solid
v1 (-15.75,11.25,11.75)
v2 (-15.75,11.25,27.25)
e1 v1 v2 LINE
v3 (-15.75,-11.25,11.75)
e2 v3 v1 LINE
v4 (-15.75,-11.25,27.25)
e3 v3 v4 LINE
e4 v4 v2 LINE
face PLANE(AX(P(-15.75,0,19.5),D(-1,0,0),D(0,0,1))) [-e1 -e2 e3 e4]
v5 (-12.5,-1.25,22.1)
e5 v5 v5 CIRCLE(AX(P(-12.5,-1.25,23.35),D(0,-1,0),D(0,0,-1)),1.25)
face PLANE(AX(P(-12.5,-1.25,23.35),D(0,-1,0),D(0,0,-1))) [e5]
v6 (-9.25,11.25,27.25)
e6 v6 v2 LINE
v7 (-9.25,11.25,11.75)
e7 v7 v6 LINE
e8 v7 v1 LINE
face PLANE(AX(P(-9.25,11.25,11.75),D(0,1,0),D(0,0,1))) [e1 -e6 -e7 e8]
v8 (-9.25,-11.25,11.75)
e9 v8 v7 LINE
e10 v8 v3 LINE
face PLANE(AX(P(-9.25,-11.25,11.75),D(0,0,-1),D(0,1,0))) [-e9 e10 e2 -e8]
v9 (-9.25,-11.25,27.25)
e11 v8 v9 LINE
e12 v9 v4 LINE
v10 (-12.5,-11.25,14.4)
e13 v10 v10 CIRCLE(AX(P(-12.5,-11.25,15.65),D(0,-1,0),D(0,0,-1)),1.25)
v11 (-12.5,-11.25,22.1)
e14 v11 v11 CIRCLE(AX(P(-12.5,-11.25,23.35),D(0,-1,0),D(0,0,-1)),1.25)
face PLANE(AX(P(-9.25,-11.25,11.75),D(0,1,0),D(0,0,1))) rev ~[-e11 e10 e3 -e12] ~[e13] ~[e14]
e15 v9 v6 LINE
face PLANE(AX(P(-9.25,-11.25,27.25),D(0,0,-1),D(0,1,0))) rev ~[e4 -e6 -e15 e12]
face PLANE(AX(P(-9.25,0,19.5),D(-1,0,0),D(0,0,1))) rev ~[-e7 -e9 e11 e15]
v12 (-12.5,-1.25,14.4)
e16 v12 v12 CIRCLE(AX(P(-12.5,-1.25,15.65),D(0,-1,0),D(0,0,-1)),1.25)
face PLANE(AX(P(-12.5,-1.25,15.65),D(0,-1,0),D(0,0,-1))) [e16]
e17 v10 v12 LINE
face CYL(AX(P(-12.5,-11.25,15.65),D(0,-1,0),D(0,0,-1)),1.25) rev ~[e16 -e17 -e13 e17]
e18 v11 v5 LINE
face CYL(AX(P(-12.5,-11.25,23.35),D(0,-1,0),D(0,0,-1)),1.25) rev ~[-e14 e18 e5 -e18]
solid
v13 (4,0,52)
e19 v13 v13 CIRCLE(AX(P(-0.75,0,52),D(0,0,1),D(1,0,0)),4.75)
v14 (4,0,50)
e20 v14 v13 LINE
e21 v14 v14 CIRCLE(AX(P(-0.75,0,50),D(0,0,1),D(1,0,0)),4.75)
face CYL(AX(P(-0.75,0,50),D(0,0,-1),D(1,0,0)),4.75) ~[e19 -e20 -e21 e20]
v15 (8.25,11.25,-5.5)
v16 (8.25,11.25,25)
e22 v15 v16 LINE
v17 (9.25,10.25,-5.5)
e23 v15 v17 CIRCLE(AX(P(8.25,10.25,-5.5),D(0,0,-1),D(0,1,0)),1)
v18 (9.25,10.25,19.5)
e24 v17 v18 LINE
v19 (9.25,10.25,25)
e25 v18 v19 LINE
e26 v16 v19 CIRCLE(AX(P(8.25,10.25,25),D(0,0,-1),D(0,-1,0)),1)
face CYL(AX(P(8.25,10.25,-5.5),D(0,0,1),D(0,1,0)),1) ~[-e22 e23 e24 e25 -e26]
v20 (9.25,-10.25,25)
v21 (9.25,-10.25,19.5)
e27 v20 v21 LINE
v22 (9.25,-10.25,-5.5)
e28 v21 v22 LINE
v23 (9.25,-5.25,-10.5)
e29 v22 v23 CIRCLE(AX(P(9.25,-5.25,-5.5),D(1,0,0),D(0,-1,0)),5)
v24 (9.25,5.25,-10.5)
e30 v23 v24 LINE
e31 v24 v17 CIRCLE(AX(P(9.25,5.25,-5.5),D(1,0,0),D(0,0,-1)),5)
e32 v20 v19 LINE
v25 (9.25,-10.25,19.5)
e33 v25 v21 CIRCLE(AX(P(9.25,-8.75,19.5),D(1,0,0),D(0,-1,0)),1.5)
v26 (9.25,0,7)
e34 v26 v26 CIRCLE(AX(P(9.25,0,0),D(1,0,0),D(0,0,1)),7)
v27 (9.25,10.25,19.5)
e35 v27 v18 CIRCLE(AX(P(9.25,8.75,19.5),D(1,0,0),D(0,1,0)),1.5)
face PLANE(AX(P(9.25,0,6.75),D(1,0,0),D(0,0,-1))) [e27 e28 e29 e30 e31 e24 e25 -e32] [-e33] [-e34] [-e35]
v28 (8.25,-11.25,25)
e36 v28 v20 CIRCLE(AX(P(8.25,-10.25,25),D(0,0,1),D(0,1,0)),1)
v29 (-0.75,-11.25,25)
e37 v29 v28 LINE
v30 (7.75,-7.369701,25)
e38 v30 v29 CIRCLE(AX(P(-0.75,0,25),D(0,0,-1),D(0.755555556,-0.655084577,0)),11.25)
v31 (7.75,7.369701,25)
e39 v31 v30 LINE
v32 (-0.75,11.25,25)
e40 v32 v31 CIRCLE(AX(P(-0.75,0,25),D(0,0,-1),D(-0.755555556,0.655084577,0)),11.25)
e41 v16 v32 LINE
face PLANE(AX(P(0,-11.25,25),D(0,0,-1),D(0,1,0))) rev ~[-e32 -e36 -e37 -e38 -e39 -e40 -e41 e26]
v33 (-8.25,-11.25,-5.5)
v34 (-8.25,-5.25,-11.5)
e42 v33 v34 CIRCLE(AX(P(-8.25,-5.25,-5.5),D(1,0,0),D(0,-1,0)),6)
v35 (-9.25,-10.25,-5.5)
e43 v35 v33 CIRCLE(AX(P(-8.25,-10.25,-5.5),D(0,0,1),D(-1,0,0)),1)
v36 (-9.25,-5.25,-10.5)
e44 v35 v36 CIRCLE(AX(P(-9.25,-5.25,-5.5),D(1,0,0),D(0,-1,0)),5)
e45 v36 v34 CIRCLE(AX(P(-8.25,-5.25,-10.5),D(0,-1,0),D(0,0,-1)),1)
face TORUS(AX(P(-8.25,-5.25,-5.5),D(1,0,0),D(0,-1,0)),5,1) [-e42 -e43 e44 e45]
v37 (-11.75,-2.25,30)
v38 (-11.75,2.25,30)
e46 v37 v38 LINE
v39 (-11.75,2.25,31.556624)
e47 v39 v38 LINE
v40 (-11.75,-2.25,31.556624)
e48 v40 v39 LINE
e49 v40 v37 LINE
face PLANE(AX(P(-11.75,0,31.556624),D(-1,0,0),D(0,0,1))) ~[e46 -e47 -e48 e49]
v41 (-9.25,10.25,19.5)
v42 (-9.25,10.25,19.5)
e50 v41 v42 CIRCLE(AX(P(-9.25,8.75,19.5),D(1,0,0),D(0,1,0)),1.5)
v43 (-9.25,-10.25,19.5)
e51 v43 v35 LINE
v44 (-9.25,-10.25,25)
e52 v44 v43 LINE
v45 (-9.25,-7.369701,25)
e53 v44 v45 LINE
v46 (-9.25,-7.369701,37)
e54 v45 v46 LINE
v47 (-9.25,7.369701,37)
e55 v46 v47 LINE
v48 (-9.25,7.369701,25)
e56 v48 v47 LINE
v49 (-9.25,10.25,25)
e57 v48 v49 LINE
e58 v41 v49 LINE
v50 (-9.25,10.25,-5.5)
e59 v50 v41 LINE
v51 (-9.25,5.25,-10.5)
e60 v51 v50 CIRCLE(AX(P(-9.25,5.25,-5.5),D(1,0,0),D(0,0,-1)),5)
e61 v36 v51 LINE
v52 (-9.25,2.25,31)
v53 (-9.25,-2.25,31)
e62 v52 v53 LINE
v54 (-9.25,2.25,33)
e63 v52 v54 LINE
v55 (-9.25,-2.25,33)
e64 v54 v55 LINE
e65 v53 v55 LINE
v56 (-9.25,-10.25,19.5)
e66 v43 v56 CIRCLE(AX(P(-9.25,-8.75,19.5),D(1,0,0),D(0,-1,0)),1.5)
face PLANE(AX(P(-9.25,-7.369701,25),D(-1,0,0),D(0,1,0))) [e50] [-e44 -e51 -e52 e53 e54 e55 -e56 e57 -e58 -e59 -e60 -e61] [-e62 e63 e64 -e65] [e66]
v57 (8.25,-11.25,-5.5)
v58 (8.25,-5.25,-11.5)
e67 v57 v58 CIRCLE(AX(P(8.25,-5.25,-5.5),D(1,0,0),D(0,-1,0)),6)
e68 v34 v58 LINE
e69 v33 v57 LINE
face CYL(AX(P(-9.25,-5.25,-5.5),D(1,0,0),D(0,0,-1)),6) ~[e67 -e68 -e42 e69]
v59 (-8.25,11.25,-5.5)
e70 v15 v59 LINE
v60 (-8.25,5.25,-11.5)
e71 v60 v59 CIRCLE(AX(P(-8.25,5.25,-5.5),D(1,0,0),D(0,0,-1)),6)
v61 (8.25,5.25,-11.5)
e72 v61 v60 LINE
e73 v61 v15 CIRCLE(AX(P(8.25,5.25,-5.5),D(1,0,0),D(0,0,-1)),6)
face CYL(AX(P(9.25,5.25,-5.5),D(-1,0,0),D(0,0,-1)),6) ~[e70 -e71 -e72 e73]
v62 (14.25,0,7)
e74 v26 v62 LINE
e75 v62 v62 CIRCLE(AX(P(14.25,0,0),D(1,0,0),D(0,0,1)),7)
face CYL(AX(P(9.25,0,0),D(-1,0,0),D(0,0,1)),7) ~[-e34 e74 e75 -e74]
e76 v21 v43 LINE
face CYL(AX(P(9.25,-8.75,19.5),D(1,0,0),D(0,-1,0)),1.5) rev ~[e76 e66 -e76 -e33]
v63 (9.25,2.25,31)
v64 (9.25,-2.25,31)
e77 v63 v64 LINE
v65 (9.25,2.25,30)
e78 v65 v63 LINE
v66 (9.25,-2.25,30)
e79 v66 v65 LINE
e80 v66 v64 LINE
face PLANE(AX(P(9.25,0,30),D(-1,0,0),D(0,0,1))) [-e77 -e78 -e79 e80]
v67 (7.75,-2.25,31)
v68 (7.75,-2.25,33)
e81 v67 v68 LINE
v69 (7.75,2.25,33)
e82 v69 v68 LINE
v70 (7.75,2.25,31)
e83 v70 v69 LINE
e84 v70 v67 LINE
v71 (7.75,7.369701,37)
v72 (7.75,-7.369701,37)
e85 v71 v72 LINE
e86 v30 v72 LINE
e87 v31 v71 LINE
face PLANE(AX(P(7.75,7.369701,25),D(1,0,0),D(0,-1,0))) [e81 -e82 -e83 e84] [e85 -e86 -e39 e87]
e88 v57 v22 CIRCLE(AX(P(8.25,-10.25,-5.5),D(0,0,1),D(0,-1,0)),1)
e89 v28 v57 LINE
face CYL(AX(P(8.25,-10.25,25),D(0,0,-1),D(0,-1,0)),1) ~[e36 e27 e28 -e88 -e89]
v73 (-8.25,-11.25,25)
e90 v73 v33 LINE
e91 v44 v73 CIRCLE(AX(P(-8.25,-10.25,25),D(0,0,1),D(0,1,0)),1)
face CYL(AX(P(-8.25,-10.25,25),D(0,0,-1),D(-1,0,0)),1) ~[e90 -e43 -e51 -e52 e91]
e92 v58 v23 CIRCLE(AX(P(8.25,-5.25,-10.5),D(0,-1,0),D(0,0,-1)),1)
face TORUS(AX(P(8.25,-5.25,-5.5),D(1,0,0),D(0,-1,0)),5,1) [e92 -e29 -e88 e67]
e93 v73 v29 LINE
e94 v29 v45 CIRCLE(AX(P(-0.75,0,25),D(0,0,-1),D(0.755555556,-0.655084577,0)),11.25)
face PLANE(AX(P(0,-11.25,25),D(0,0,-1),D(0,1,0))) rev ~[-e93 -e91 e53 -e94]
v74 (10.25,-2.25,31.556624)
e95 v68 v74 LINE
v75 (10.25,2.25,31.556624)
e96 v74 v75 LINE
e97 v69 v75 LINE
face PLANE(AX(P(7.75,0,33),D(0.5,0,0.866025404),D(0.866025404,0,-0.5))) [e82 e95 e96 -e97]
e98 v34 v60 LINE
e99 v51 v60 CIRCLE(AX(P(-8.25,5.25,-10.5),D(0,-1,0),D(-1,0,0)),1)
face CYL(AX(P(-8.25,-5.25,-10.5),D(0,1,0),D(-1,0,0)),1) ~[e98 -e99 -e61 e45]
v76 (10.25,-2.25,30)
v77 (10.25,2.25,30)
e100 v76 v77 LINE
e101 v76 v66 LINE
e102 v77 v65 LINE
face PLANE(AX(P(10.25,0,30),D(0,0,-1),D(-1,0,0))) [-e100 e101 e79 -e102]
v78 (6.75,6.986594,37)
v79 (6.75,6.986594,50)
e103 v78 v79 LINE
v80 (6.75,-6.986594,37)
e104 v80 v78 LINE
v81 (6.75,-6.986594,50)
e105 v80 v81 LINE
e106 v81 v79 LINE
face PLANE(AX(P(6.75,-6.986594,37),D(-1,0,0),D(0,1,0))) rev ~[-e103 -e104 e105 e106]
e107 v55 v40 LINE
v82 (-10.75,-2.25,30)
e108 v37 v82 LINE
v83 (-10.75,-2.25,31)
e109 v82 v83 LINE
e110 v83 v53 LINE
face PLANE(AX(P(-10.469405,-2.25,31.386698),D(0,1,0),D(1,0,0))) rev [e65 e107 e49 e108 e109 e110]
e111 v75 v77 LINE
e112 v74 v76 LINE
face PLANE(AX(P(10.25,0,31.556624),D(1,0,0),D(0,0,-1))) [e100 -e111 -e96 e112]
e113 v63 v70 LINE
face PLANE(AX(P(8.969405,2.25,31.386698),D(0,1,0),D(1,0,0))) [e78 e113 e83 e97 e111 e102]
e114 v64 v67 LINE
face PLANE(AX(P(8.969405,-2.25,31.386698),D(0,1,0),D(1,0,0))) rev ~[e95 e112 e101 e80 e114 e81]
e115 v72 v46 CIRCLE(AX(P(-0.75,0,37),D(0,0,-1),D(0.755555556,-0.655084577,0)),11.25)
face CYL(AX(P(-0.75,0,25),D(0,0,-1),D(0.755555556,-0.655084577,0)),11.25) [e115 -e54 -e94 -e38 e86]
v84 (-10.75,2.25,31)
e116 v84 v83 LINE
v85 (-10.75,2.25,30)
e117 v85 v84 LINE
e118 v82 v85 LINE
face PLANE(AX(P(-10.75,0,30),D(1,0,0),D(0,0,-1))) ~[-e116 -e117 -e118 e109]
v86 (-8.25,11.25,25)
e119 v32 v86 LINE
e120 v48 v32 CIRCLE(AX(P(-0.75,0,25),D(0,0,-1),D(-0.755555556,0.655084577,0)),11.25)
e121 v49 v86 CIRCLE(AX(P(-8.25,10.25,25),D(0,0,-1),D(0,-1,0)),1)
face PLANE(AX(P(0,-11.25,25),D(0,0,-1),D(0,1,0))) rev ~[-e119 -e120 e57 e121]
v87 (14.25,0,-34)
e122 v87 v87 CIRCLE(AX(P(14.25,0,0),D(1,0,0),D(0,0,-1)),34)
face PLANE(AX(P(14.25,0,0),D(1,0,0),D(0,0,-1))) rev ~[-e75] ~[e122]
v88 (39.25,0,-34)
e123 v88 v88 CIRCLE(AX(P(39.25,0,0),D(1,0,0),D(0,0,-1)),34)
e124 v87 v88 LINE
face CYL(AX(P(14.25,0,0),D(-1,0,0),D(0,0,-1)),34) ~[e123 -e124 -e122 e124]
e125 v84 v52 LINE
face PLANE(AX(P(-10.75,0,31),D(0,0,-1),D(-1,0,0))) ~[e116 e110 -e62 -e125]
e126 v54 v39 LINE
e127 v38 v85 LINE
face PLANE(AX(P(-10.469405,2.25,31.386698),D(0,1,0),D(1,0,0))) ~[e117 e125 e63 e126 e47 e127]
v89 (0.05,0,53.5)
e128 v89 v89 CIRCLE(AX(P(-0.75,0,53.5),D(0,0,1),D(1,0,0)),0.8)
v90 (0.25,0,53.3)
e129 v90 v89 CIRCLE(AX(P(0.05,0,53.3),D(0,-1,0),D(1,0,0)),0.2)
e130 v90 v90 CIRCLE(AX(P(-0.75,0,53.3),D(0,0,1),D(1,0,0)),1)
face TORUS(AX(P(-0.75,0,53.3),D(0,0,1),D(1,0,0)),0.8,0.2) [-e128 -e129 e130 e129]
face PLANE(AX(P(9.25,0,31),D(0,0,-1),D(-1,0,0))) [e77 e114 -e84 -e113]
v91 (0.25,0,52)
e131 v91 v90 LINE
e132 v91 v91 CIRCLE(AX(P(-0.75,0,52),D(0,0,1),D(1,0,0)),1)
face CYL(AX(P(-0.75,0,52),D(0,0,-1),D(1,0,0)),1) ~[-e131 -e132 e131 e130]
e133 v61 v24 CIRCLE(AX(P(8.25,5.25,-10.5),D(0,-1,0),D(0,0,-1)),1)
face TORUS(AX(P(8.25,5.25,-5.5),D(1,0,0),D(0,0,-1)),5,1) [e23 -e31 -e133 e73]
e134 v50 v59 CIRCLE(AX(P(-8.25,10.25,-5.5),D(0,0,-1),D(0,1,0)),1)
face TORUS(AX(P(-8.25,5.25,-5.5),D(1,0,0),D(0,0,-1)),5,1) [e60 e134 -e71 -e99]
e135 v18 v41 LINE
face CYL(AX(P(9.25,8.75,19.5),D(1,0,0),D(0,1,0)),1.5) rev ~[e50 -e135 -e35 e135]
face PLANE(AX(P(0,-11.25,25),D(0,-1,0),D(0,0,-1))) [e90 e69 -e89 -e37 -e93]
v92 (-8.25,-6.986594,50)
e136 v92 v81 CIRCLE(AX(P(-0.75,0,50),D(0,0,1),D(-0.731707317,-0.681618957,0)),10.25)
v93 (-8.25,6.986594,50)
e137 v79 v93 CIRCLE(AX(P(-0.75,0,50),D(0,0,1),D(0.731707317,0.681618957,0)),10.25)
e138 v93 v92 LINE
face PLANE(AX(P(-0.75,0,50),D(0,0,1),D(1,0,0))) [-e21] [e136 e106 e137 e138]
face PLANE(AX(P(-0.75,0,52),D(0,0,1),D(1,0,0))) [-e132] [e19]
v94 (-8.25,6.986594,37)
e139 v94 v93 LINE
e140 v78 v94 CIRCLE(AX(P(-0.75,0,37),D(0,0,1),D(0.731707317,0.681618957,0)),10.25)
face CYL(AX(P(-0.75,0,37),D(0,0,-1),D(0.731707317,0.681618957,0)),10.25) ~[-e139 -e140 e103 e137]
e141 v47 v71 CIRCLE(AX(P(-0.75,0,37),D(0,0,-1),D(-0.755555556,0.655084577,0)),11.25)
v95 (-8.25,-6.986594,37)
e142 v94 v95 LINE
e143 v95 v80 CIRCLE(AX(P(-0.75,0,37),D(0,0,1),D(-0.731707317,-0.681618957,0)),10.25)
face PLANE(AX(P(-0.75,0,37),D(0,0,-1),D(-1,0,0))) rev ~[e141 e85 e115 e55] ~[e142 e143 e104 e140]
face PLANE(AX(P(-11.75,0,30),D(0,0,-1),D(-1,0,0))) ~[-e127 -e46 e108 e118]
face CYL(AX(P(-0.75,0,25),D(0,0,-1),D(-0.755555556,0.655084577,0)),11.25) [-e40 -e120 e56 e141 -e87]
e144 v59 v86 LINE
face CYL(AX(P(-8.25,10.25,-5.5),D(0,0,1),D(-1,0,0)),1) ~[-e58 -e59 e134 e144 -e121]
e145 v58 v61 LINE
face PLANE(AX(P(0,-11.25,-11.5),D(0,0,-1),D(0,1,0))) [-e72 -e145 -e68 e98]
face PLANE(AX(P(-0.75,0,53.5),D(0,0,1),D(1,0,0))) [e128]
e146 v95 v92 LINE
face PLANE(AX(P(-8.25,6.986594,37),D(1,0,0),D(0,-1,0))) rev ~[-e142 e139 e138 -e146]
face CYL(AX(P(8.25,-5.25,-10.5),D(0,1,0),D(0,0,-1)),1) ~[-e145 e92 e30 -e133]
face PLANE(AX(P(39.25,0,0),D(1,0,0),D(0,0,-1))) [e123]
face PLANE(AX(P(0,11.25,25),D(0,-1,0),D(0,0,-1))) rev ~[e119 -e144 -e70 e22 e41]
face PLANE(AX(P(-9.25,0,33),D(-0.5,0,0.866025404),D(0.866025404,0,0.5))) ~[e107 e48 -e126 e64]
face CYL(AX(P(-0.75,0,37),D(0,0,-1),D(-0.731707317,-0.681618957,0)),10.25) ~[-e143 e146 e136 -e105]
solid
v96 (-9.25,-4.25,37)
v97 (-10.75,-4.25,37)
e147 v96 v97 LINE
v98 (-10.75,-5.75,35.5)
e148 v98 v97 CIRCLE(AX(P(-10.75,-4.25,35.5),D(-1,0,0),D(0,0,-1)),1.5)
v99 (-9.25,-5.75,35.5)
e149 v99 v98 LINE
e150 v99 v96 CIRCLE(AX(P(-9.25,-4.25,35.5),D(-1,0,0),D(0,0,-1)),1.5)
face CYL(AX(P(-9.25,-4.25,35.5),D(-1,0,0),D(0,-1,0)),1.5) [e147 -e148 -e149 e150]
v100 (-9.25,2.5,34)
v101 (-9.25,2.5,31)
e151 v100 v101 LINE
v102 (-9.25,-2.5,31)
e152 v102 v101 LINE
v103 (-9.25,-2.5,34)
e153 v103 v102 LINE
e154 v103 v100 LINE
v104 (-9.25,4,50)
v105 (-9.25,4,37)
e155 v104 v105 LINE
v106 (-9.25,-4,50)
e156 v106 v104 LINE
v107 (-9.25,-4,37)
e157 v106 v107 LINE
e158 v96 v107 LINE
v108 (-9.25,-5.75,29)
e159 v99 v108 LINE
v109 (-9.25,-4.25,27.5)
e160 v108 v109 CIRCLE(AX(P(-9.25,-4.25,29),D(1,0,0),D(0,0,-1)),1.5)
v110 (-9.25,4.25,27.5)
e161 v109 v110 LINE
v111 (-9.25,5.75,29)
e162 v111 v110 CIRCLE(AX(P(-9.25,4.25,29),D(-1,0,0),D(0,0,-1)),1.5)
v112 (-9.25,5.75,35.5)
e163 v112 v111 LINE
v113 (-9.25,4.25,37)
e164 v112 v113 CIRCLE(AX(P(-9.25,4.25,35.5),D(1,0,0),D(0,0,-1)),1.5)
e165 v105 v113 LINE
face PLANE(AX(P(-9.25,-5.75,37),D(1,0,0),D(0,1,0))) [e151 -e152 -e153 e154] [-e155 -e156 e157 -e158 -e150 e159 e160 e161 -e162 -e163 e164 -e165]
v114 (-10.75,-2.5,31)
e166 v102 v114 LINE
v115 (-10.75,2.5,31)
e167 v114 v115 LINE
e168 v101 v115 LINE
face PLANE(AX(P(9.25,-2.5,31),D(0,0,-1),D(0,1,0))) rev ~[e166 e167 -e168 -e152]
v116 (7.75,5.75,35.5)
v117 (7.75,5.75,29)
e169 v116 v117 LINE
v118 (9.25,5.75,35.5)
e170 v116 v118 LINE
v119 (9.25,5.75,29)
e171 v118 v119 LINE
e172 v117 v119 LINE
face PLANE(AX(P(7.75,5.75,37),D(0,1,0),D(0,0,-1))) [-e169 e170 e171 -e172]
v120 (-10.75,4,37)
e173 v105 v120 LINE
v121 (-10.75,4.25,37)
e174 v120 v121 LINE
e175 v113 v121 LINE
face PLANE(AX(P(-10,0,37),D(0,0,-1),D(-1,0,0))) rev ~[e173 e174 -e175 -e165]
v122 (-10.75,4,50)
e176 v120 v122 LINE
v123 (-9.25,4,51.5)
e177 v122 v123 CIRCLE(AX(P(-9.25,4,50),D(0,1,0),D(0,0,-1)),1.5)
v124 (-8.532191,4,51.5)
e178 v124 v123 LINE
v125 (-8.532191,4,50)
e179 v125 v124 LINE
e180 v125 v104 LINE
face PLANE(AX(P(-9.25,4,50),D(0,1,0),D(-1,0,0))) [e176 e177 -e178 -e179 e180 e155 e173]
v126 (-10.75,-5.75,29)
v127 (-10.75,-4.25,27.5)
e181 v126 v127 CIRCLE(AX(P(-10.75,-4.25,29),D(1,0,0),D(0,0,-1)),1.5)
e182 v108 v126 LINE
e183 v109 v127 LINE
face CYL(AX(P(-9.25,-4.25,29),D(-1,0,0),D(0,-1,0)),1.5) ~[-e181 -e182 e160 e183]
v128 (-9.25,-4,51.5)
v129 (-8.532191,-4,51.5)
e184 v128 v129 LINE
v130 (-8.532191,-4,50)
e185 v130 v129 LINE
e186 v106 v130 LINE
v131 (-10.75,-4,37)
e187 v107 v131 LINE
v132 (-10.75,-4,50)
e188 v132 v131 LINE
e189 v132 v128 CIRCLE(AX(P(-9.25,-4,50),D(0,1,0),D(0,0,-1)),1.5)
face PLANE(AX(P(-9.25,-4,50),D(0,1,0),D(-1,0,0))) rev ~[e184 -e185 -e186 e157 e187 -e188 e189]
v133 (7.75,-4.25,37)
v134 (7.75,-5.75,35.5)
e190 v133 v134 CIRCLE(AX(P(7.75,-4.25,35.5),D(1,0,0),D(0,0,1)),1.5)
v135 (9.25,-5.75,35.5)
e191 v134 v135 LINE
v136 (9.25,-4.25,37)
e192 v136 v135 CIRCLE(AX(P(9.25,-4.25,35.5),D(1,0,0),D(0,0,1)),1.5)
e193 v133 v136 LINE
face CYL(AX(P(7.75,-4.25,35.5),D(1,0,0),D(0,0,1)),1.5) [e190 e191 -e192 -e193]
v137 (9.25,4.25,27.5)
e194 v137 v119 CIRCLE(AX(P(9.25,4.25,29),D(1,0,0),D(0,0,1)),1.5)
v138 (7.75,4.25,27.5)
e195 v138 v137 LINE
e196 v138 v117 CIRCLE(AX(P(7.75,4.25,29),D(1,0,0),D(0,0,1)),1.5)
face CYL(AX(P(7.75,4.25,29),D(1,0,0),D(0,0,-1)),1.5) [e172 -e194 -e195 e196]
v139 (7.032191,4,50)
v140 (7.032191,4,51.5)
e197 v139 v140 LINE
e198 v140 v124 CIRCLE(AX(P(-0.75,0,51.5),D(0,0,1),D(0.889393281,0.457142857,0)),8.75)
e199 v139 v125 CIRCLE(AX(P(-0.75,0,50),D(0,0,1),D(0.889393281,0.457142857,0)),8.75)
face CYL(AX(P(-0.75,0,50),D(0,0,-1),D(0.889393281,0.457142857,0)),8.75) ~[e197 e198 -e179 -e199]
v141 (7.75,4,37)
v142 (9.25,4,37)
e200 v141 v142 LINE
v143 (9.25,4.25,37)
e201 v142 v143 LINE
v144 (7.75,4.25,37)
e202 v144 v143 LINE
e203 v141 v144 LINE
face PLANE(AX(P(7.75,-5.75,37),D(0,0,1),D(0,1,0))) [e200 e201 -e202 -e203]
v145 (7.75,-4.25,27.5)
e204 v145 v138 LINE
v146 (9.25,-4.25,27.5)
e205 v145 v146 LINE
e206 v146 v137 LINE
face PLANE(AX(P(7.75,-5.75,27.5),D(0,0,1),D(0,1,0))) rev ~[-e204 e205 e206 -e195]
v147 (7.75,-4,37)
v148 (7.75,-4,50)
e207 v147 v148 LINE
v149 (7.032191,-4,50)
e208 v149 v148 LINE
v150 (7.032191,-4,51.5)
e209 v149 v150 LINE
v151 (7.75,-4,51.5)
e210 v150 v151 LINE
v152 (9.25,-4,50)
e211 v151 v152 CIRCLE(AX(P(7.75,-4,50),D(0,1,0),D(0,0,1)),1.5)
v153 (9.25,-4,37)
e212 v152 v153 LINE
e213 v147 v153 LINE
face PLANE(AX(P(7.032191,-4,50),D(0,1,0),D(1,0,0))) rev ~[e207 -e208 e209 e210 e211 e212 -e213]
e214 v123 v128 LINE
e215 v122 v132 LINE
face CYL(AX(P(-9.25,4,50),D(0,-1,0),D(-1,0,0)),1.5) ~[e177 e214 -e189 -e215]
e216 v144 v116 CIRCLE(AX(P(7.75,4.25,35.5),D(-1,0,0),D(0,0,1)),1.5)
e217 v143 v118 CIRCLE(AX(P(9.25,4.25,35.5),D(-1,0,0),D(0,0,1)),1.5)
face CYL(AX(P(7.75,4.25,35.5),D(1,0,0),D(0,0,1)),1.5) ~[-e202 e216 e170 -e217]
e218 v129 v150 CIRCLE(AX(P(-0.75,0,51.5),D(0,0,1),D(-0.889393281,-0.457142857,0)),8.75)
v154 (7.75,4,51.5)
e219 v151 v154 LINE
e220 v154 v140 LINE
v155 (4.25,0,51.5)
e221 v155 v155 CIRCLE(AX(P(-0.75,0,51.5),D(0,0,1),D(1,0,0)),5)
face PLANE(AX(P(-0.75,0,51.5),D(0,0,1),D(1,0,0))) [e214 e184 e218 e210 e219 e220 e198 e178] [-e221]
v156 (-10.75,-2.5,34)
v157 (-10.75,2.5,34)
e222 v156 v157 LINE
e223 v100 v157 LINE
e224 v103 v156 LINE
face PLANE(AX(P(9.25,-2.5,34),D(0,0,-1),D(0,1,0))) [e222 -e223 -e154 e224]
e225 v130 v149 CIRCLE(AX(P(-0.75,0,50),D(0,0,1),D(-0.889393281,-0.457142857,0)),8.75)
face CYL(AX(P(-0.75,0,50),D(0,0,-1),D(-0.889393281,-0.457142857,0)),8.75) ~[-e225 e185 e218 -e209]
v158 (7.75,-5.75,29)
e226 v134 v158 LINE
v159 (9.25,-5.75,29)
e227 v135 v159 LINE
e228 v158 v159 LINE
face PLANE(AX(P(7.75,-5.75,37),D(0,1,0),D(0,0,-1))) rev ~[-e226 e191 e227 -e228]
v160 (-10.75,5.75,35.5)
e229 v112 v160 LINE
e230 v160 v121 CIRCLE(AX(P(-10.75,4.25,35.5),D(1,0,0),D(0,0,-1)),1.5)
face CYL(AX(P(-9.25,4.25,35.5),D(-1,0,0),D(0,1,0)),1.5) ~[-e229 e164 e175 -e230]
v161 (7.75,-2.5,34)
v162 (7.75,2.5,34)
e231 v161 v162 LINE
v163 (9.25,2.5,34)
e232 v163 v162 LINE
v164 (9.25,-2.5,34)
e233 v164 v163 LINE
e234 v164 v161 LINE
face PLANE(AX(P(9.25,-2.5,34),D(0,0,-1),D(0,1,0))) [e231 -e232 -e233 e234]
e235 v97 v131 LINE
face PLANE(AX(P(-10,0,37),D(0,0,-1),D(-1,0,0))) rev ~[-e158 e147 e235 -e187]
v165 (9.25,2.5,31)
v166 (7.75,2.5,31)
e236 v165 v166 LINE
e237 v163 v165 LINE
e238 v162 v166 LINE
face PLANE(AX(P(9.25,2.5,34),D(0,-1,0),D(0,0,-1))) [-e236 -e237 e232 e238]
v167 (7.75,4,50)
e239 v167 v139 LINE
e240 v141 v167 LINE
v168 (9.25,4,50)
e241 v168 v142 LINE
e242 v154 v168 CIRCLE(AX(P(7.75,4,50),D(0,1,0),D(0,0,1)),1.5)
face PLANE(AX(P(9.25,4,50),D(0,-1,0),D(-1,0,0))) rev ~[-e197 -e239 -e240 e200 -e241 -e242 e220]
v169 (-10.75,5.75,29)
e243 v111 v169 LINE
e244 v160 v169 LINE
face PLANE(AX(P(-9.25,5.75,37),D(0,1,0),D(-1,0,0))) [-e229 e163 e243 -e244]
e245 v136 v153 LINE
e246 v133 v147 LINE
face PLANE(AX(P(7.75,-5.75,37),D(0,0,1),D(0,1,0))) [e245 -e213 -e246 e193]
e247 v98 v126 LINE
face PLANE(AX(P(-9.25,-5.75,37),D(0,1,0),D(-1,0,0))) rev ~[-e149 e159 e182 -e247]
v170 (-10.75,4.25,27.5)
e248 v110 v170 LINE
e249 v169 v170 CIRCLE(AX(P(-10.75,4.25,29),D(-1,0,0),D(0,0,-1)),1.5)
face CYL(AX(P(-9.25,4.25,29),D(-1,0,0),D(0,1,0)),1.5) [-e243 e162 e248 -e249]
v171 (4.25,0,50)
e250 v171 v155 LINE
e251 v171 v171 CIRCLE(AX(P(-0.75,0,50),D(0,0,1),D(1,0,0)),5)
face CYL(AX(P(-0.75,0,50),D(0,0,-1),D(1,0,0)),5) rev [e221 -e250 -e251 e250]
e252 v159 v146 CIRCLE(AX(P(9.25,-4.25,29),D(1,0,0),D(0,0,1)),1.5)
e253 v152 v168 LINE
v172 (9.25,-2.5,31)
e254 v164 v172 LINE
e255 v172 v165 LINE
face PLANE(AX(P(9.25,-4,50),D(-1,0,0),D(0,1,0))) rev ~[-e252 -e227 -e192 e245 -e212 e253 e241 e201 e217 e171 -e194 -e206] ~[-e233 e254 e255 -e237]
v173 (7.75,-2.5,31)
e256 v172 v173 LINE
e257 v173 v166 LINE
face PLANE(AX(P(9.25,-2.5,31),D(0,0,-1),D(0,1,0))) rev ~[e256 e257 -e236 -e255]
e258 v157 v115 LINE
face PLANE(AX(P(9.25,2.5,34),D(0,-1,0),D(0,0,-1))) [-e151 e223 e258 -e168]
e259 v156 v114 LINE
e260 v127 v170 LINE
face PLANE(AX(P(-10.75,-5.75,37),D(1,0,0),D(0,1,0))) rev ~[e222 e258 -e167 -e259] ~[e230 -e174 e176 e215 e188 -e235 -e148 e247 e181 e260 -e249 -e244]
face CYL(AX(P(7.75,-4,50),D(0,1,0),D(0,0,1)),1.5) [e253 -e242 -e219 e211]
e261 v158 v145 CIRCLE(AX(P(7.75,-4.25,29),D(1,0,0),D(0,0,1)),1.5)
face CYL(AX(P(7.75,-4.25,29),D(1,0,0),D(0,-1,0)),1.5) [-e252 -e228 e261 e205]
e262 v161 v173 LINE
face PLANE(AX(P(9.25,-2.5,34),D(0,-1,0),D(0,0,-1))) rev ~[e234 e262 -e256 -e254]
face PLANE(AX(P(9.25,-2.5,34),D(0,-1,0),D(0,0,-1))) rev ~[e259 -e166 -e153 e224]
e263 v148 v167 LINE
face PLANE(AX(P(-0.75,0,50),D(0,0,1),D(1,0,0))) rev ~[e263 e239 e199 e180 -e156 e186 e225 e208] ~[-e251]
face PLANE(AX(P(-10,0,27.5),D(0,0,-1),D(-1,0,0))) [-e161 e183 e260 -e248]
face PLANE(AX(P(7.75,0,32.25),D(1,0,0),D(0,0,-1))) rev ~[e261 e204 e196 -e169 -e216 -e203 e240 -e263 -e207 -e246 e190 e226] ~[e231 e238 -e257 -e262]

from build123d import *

# Parameters (mm, degrees)
ESBO_O1_W                 = 36.5
ESBO_O1_H                 = 22.5
RESSALTO_EXTRUS_O1_DEPTH  = 9.25
FILETE1_R                 = 6
RESSALTO_EXTRUS_O2_DEPTH  = 12
RESSALTO_EXTRUS_O3_DEPTH  = 13
ESBO_O4_R                 = 3.75
RESSALTO_EXTRUS_O4_DEPTH  = 0.5
ESBO_O5_W                 = 9.5
ESBO_O5_H                 = 11.5
RESSALTO_EXTRUS_O5_DEPTH  = 1.5
ESBO_O6_W                 = 1.5
ESBO_O6_H                 = 8
RESSALTO_EXTRUS_O6_DEPTH  = 13
ESBO_O8_R                 = 4.75
RESSALTO_EXTRUS_O7_DEPTH  = 2
ESBO_O7_R                 = 5
RESSALTO_EXTRUS_O8_DEPTH  = 1.5
ESBO_O10_W                = 1.5
ESBO_O10_H                = 8
RESSALTO_EXTRUS_O9_DEPTH  = 13
ESBO_O11_W                = 1.5
ESBO_O11_H                = 11.5
RESSALTO_EXTRUS_O10_DEPTH = 9.5
FILETE2_R                 = 1.5
ESBO_O12_W                = 3
ESBO_O12_H                = 5
CORTE_EXTRUS_O1_DEPTH     = 57.83803744
RESSALTO_EXTRUS_O11_DEPTH = 2.25
ESBO_O15_R                = 1
RESSALTO_EXTRUS_O12_DEPTH = 1.5
RESSALTO_EXTRUS_O13_DEPTH = 8
FILETE4_R                 = 1
ESBO_O17_R                = 1.5
CORTE_EXTRUS_O2_DEPTH     = 59.564601083
FILETE6_R                 = 0.2
ESBO_O20_R                = 7
RESSALTO_EXTRUS_O15_DEPTH = 5
ESBO_O21_R                = 34
RESSALTO_EXTRUS_O16_DEPTH = 25
ESBO_O23_W                = 15.5
ESBO_O23_H                = 22.5
RESSALTO_EXTRUS_O18_DEPTH = 6.5
ESBO_O24_R                = 1.25
CORTE_EXTRUS_O3_DEPTH     = 10


with BuildPart() as part:
    # Esboço1 → Ressalto-extrusão1 (new, symmetric)
    with BuildSketch(Plane(origin=(0, 0, 0), x_dir=(0, 0, -1), z_dir=(1, 0, 0))):
        with Locations((-6.75, 0)):
            Rectangle(ESBO_O1_W, ESBO_O1_H)
    extrude(amount=RESSALTO_EXTRUS_O1_DEPTH, both=True)

    # Filete1
    filete1_edges = [part.edges().sort_by_distance(p)[0] for p in [
        (0, -11.25, -11.5),
        (0, 11.25, -11.5),
    ]]
    fillet(filete1_edges, radius=FILETE1_R)

    # Esboço2 → Ressalto-extrusão2 (add)
    with BuildSketch(Plane.XY.offset(25)):
        with BuildLine():
            Line((7.75, 7.369701486), (7.75, -7.369701486))
            ThreePointArc((7.75, -7.369701486), (-0.75, -11.25), (-9.25, -7.369701486))
            Line((-9.25, -7.369701486), (-9.25, 7.369701486))
            ThreePointArc((-9.25, 7.369701486), (-0.75, 11.25), (7.75, 7.369701486))
        make_face()
    extrude(amount=RESSALTO_EXTRUS_O2_DEPTH)

    # Esboço3 → Ressalto-extrusão3 (add)
    with BuildSketch(Plane.XY.offset(37)):
        with BuildLine():
            Line((-8.25, 6.986594306), (-8.25, -6.986594306))
            ThreePointArc((-8.25, -6.986594306), (-0.75, -10.25), (6.75, -6.986594306))
            Line((6.75, -6.986594306), (6.75, 6.986594306))
            ThreePointArc((6.75, 6.986594306), (-0.75, 10.25), (-8.25, 6.986594306))
        make_face()
    extrude(amount=RESSALTO_EXTRUS_O3_DEPTH)

    # Esboço4 → Ressalto-extrusão4 (add)
    with BuildSketch(Plane(origin=(9.25, 0, 0), x_dir=(0, 0, -1), z_dir=(1, 0, 0))):
        with Locations(Location((0, 0, 0), (0, 0, 180))):
            Circle(ESBO_O4_R)
    extrude(amount=RESSALTO_EXTRUS_O4_DEPTH)

    # Esboço8 → Ressalto-extrusão7 (add)
    with BuildSketch(Plane.XY.offset(50)):
        with Locations((-0.75, 0)):
            Circle(ESBO_O8_R)
    extrude(amount=RESSALTO_EXTRUS_O7_DEPTH)

    # Esboço14 → Ressalto-extrusão11 (add, symmetric)
    with BuildSketch(Plane(origin=(0, 0, 0), x_dir=(1, 0, 0), z_dir=(0, 1, 0))):
        Polygon((7.75, -33), (10.25, -31.556624327), (10.25, -30), (9.25, -30), (9.25, -31), (7.75, -31), align=None)
    ressalto_extrus_o11 = extrude(amount=RESSALTO_EXTRUS_O11_DEPTH, both=True)

    # Espelhar6: Ressalto-extrusão11 across plane
    add(ressalto_extrus_o11.mirror(Plane(origin=(-0.75, 8.75, 51.5), x_dir=(0, 0, 1), z_dir=(-1, 0, 0))))

    # Esboço15 → Ressalto-extrusão12 (add)
    with BuildSketch(Plane.XY.offset(52)):
        with Locations((-0.75, 0)):
            Circle(ESBO_O15_R)
    extrude(amount=RESSALTO_EXTRUS_O12_DEPTH)

    # Esboço16 → Ressalto-extrusão13 (add)
    with BuildSketch(Plane(origin=(9.75, 0, 0), x_dir=(0, 0, -1), z_dir=(1, 0, 0))):
        with BuildLine():
            Line((-2.121320344, 1.75), (2.121320344, 1.75))
            ThreePointArc((2.121320344, 1.75), (2.75, 0), (2.121320344, -1.75))
            Line((2.121320344, -1.75), (-2.121320344, -1.75))
            ThreePointArc((-2.121320344, -1.75), (-2.75, 0), (-2.121320344, 1.75))
        make_face()
    extrude(amount=RESSALTO_EXTRUS_O13_DEPTH)

    # Filete4
    filete4_edges = [part.edges().sort_by_distance(p)[0] for p in [
        (-9.25, -11.25, 9.75),
        (-9.25, -9.492640687, -9.742640687),
        (-9.25, 0, -11.5),
        (-9.25, 9.492640687, -9.742640687),
        (9.25, -11.25, 9.75),
        (9.25, -9.492640687, -9.742640687),
        (9.25, 0, -11.5),
        (9.25, 9.492640687, -9.742640687),
        (-9.25, 11.25, 9.75),
        (9.25, 11.25, 9.75),
    ]]
    fillet(filete4_edges, radius=FILETE4_R)

    # Esboço17 → Corte-extrusão2 (cut, through all)
    with BuildSketch(Plane(origin=(9.25, 0, 0), x_dir=(0, 0, -1), z_dir=(1, 0, 0))):
        with Locations(Location((-19.5, 8.75, 0), (0, 0, 90))):
            Circle(ESBO_O17_R)
        with Locations(Location((-19.5, -8.75, 0), (0, 0, 270))):
            Circle(ESBO_O17_R)
    extrude(amount=-CORTE_EXTRUS_O2_DEPTH, mode=Mode.SUBTRACT)

    # Filete6
    filete6_edges = [part.edges().sort_by_distance(p)[0] for p in [
        (-1.75, 0, 53.5),
    ]]
    fillet(filete6_edges, radius=FILETE6_R)

    # Esboço20 → Ressalto-extrusão15 (add)
    with BuildSketch(Plane(origin=(9.25, 0, 0), x_dir=(0, 0, -1), z_dir=(1, 0, 0))):
        with Locations(Location((0, 0, 0), (0, 0, 180))):
            Circle(ESBO_O20_R)
    extrude(amount=RESSALTO_EXTRUS_O15_DEPTH)

    # Esboço21 → Ressalto-extrusão16 (add)
    with BuildSketch(Plane(origin=(14.25, 0, 0), x_dir=(0, 0, -1), z_dir=(1, 0, 0))):
        Circle(ESBO_O21_R)
    extrude(amount=RESSALTO_EXTRUS_O16_DEPTH)


with BuildPart() as body_2:
    # Esboço5 → Ressalto-extrusão5 (new body)
    with BuildSketch(Plane(origin=(7.75, 0, 0), x_dir=(0, 0, -1), z_dir=(1, 0, 0))):
        with Locations((-32.25, 0)):
            Rectangle(ESBO_O5_W, ESBO_O5_H)
    extrude(amount=RESSALTO_EXTRUS_O5_DEPTH)

    # Esboço6 → Ressalto-extrusão6 (add)
    with BuildSketch(Plane.XY.offset(37)):
        with Locations((8.5, 0)):
            Rectangle(ESBO_O6_W, ESBO_O6_H)
    extrude(amount=RESSALTO_EXTRUS_O6_DEPTH)

    # Esboço7 → Ressalto-extrusão8 (add)
    with BuildSketch(Plane.XY.offset(50)):
        with BuildLine():
            Line((9.25, 4), (7.032191208, 4))
            ThreePointArc((7.032191208, 4), (-0.75, 8.75), (-8.532191208, 4))
            Line((-8.532191208, 4), (-10.75, 4))
            Line((-10.75, 4), (-10.75, -4))
            Line((-10.75, -4), (-8.532191208, -4))
            ThreePointArc((-8.532191208, -4), (-0.75, -8.75), (7.032191208, -4))
            Line((7.032191208, -4), (9.25, -4))
            Line((9.25, -4), (9.25, 4))
        make_face()
        with Locations((-0.75, 0)):
            Circle(ESBO_O7_R, mode=Mode.SUBTRACT)
    extrude(amount=RESSALTO_EXTRUS_O8_DEPTH)

    # Esboço10 → Ressalto-extrusão9 (add)
    with BuildSketch(Plane(origin=(0, 0, 50), x_dir=(-1, 0, 0), z_dir=(0, 0, -1))):
        with Locations((10, 0)):
            Rectangle(ESBO_O10_W, ESBO_O10_H)
    extrude(amount=RESSALTO_EXTRUS_O9_DEPTH)

    # Esboço11 → Ressalto-extrusão10 (add)
    with BuildSketch(Plane(origin=(0, 0, 37), x_dir=(-1, 0, 0), z_dir=(0, 0, -1))):
        with Locations((10, 0)):
            Rectangle(ESBO_O11_W, ESBO_O11_H)
    extrude(amount=RESSALTO_EXTRUS_O10_DEPTH)

    # Filete2
    filete2_edges = [body_2.edges().sort_by_distance(p)[0] for p in [
        (8.5, -5.75, 37),
        (8.5, -5.75, 27.5),
        (8.5, 5.75, 27.5),
        (8.5, 5.75, 37),
        (9.25, 0, 51.5),
        (-10.75, 0, 51.5),
        (-10, -5.75, 27.5),
        (-10, -5.75, 37),
        (-10, 5.75, 37),
        (-10, 5.75, 27.5),
    ]]
    fillet(filete2_edges, radius=FILETE2_R)

    # Esboço12 → Corte-extrusão1 (cut, through all)
    with BuildSketch(Plane(origin=(9.25, 0, 0), x_dir=(0, 0, -1), z_dir=(1, 0, 0))):
        with Locations((-32.5, 0)):
            Rectangle(ESBO_O12_W, ESBO_O12_H)
    extrude(amount=-CORTE_EXTRUS_O1_DEPTH, mode=Mode.SUBTRACT)


with BuildPart() as body_3:
    # Esboço23 → Ressalto-extrusão18 (new body)
    with BuildSketch(Plane.ZY.offset(9.25)):
        with Locations((19.5, 0)):
            Rectangle(ESBO_O23_W, ESBO_O23_H)
    extrude(amount=RESSALTO_EXTRUS_O18_DEPTH)

    # Esboço24 → Corte-extrusão3 (cut)
    with BuildSketch(Plane.XZ.offset(11.25)):
        with Locations(Location((-12.5, 23.35, 0), (0, 0, 270))):
            Circle(ESBO_O24_R)
        with Locations(Location((-12.5, 15.65, 0), (0, 0, 270))):
            Circle(ESBO_O24_R)
    extrude(amount=-CORTE_EXTRUS_O3_DEPTH, mode=Mode.SUBTRACT)


solid = Compound([part.part, body_2.part, body_3.part])
